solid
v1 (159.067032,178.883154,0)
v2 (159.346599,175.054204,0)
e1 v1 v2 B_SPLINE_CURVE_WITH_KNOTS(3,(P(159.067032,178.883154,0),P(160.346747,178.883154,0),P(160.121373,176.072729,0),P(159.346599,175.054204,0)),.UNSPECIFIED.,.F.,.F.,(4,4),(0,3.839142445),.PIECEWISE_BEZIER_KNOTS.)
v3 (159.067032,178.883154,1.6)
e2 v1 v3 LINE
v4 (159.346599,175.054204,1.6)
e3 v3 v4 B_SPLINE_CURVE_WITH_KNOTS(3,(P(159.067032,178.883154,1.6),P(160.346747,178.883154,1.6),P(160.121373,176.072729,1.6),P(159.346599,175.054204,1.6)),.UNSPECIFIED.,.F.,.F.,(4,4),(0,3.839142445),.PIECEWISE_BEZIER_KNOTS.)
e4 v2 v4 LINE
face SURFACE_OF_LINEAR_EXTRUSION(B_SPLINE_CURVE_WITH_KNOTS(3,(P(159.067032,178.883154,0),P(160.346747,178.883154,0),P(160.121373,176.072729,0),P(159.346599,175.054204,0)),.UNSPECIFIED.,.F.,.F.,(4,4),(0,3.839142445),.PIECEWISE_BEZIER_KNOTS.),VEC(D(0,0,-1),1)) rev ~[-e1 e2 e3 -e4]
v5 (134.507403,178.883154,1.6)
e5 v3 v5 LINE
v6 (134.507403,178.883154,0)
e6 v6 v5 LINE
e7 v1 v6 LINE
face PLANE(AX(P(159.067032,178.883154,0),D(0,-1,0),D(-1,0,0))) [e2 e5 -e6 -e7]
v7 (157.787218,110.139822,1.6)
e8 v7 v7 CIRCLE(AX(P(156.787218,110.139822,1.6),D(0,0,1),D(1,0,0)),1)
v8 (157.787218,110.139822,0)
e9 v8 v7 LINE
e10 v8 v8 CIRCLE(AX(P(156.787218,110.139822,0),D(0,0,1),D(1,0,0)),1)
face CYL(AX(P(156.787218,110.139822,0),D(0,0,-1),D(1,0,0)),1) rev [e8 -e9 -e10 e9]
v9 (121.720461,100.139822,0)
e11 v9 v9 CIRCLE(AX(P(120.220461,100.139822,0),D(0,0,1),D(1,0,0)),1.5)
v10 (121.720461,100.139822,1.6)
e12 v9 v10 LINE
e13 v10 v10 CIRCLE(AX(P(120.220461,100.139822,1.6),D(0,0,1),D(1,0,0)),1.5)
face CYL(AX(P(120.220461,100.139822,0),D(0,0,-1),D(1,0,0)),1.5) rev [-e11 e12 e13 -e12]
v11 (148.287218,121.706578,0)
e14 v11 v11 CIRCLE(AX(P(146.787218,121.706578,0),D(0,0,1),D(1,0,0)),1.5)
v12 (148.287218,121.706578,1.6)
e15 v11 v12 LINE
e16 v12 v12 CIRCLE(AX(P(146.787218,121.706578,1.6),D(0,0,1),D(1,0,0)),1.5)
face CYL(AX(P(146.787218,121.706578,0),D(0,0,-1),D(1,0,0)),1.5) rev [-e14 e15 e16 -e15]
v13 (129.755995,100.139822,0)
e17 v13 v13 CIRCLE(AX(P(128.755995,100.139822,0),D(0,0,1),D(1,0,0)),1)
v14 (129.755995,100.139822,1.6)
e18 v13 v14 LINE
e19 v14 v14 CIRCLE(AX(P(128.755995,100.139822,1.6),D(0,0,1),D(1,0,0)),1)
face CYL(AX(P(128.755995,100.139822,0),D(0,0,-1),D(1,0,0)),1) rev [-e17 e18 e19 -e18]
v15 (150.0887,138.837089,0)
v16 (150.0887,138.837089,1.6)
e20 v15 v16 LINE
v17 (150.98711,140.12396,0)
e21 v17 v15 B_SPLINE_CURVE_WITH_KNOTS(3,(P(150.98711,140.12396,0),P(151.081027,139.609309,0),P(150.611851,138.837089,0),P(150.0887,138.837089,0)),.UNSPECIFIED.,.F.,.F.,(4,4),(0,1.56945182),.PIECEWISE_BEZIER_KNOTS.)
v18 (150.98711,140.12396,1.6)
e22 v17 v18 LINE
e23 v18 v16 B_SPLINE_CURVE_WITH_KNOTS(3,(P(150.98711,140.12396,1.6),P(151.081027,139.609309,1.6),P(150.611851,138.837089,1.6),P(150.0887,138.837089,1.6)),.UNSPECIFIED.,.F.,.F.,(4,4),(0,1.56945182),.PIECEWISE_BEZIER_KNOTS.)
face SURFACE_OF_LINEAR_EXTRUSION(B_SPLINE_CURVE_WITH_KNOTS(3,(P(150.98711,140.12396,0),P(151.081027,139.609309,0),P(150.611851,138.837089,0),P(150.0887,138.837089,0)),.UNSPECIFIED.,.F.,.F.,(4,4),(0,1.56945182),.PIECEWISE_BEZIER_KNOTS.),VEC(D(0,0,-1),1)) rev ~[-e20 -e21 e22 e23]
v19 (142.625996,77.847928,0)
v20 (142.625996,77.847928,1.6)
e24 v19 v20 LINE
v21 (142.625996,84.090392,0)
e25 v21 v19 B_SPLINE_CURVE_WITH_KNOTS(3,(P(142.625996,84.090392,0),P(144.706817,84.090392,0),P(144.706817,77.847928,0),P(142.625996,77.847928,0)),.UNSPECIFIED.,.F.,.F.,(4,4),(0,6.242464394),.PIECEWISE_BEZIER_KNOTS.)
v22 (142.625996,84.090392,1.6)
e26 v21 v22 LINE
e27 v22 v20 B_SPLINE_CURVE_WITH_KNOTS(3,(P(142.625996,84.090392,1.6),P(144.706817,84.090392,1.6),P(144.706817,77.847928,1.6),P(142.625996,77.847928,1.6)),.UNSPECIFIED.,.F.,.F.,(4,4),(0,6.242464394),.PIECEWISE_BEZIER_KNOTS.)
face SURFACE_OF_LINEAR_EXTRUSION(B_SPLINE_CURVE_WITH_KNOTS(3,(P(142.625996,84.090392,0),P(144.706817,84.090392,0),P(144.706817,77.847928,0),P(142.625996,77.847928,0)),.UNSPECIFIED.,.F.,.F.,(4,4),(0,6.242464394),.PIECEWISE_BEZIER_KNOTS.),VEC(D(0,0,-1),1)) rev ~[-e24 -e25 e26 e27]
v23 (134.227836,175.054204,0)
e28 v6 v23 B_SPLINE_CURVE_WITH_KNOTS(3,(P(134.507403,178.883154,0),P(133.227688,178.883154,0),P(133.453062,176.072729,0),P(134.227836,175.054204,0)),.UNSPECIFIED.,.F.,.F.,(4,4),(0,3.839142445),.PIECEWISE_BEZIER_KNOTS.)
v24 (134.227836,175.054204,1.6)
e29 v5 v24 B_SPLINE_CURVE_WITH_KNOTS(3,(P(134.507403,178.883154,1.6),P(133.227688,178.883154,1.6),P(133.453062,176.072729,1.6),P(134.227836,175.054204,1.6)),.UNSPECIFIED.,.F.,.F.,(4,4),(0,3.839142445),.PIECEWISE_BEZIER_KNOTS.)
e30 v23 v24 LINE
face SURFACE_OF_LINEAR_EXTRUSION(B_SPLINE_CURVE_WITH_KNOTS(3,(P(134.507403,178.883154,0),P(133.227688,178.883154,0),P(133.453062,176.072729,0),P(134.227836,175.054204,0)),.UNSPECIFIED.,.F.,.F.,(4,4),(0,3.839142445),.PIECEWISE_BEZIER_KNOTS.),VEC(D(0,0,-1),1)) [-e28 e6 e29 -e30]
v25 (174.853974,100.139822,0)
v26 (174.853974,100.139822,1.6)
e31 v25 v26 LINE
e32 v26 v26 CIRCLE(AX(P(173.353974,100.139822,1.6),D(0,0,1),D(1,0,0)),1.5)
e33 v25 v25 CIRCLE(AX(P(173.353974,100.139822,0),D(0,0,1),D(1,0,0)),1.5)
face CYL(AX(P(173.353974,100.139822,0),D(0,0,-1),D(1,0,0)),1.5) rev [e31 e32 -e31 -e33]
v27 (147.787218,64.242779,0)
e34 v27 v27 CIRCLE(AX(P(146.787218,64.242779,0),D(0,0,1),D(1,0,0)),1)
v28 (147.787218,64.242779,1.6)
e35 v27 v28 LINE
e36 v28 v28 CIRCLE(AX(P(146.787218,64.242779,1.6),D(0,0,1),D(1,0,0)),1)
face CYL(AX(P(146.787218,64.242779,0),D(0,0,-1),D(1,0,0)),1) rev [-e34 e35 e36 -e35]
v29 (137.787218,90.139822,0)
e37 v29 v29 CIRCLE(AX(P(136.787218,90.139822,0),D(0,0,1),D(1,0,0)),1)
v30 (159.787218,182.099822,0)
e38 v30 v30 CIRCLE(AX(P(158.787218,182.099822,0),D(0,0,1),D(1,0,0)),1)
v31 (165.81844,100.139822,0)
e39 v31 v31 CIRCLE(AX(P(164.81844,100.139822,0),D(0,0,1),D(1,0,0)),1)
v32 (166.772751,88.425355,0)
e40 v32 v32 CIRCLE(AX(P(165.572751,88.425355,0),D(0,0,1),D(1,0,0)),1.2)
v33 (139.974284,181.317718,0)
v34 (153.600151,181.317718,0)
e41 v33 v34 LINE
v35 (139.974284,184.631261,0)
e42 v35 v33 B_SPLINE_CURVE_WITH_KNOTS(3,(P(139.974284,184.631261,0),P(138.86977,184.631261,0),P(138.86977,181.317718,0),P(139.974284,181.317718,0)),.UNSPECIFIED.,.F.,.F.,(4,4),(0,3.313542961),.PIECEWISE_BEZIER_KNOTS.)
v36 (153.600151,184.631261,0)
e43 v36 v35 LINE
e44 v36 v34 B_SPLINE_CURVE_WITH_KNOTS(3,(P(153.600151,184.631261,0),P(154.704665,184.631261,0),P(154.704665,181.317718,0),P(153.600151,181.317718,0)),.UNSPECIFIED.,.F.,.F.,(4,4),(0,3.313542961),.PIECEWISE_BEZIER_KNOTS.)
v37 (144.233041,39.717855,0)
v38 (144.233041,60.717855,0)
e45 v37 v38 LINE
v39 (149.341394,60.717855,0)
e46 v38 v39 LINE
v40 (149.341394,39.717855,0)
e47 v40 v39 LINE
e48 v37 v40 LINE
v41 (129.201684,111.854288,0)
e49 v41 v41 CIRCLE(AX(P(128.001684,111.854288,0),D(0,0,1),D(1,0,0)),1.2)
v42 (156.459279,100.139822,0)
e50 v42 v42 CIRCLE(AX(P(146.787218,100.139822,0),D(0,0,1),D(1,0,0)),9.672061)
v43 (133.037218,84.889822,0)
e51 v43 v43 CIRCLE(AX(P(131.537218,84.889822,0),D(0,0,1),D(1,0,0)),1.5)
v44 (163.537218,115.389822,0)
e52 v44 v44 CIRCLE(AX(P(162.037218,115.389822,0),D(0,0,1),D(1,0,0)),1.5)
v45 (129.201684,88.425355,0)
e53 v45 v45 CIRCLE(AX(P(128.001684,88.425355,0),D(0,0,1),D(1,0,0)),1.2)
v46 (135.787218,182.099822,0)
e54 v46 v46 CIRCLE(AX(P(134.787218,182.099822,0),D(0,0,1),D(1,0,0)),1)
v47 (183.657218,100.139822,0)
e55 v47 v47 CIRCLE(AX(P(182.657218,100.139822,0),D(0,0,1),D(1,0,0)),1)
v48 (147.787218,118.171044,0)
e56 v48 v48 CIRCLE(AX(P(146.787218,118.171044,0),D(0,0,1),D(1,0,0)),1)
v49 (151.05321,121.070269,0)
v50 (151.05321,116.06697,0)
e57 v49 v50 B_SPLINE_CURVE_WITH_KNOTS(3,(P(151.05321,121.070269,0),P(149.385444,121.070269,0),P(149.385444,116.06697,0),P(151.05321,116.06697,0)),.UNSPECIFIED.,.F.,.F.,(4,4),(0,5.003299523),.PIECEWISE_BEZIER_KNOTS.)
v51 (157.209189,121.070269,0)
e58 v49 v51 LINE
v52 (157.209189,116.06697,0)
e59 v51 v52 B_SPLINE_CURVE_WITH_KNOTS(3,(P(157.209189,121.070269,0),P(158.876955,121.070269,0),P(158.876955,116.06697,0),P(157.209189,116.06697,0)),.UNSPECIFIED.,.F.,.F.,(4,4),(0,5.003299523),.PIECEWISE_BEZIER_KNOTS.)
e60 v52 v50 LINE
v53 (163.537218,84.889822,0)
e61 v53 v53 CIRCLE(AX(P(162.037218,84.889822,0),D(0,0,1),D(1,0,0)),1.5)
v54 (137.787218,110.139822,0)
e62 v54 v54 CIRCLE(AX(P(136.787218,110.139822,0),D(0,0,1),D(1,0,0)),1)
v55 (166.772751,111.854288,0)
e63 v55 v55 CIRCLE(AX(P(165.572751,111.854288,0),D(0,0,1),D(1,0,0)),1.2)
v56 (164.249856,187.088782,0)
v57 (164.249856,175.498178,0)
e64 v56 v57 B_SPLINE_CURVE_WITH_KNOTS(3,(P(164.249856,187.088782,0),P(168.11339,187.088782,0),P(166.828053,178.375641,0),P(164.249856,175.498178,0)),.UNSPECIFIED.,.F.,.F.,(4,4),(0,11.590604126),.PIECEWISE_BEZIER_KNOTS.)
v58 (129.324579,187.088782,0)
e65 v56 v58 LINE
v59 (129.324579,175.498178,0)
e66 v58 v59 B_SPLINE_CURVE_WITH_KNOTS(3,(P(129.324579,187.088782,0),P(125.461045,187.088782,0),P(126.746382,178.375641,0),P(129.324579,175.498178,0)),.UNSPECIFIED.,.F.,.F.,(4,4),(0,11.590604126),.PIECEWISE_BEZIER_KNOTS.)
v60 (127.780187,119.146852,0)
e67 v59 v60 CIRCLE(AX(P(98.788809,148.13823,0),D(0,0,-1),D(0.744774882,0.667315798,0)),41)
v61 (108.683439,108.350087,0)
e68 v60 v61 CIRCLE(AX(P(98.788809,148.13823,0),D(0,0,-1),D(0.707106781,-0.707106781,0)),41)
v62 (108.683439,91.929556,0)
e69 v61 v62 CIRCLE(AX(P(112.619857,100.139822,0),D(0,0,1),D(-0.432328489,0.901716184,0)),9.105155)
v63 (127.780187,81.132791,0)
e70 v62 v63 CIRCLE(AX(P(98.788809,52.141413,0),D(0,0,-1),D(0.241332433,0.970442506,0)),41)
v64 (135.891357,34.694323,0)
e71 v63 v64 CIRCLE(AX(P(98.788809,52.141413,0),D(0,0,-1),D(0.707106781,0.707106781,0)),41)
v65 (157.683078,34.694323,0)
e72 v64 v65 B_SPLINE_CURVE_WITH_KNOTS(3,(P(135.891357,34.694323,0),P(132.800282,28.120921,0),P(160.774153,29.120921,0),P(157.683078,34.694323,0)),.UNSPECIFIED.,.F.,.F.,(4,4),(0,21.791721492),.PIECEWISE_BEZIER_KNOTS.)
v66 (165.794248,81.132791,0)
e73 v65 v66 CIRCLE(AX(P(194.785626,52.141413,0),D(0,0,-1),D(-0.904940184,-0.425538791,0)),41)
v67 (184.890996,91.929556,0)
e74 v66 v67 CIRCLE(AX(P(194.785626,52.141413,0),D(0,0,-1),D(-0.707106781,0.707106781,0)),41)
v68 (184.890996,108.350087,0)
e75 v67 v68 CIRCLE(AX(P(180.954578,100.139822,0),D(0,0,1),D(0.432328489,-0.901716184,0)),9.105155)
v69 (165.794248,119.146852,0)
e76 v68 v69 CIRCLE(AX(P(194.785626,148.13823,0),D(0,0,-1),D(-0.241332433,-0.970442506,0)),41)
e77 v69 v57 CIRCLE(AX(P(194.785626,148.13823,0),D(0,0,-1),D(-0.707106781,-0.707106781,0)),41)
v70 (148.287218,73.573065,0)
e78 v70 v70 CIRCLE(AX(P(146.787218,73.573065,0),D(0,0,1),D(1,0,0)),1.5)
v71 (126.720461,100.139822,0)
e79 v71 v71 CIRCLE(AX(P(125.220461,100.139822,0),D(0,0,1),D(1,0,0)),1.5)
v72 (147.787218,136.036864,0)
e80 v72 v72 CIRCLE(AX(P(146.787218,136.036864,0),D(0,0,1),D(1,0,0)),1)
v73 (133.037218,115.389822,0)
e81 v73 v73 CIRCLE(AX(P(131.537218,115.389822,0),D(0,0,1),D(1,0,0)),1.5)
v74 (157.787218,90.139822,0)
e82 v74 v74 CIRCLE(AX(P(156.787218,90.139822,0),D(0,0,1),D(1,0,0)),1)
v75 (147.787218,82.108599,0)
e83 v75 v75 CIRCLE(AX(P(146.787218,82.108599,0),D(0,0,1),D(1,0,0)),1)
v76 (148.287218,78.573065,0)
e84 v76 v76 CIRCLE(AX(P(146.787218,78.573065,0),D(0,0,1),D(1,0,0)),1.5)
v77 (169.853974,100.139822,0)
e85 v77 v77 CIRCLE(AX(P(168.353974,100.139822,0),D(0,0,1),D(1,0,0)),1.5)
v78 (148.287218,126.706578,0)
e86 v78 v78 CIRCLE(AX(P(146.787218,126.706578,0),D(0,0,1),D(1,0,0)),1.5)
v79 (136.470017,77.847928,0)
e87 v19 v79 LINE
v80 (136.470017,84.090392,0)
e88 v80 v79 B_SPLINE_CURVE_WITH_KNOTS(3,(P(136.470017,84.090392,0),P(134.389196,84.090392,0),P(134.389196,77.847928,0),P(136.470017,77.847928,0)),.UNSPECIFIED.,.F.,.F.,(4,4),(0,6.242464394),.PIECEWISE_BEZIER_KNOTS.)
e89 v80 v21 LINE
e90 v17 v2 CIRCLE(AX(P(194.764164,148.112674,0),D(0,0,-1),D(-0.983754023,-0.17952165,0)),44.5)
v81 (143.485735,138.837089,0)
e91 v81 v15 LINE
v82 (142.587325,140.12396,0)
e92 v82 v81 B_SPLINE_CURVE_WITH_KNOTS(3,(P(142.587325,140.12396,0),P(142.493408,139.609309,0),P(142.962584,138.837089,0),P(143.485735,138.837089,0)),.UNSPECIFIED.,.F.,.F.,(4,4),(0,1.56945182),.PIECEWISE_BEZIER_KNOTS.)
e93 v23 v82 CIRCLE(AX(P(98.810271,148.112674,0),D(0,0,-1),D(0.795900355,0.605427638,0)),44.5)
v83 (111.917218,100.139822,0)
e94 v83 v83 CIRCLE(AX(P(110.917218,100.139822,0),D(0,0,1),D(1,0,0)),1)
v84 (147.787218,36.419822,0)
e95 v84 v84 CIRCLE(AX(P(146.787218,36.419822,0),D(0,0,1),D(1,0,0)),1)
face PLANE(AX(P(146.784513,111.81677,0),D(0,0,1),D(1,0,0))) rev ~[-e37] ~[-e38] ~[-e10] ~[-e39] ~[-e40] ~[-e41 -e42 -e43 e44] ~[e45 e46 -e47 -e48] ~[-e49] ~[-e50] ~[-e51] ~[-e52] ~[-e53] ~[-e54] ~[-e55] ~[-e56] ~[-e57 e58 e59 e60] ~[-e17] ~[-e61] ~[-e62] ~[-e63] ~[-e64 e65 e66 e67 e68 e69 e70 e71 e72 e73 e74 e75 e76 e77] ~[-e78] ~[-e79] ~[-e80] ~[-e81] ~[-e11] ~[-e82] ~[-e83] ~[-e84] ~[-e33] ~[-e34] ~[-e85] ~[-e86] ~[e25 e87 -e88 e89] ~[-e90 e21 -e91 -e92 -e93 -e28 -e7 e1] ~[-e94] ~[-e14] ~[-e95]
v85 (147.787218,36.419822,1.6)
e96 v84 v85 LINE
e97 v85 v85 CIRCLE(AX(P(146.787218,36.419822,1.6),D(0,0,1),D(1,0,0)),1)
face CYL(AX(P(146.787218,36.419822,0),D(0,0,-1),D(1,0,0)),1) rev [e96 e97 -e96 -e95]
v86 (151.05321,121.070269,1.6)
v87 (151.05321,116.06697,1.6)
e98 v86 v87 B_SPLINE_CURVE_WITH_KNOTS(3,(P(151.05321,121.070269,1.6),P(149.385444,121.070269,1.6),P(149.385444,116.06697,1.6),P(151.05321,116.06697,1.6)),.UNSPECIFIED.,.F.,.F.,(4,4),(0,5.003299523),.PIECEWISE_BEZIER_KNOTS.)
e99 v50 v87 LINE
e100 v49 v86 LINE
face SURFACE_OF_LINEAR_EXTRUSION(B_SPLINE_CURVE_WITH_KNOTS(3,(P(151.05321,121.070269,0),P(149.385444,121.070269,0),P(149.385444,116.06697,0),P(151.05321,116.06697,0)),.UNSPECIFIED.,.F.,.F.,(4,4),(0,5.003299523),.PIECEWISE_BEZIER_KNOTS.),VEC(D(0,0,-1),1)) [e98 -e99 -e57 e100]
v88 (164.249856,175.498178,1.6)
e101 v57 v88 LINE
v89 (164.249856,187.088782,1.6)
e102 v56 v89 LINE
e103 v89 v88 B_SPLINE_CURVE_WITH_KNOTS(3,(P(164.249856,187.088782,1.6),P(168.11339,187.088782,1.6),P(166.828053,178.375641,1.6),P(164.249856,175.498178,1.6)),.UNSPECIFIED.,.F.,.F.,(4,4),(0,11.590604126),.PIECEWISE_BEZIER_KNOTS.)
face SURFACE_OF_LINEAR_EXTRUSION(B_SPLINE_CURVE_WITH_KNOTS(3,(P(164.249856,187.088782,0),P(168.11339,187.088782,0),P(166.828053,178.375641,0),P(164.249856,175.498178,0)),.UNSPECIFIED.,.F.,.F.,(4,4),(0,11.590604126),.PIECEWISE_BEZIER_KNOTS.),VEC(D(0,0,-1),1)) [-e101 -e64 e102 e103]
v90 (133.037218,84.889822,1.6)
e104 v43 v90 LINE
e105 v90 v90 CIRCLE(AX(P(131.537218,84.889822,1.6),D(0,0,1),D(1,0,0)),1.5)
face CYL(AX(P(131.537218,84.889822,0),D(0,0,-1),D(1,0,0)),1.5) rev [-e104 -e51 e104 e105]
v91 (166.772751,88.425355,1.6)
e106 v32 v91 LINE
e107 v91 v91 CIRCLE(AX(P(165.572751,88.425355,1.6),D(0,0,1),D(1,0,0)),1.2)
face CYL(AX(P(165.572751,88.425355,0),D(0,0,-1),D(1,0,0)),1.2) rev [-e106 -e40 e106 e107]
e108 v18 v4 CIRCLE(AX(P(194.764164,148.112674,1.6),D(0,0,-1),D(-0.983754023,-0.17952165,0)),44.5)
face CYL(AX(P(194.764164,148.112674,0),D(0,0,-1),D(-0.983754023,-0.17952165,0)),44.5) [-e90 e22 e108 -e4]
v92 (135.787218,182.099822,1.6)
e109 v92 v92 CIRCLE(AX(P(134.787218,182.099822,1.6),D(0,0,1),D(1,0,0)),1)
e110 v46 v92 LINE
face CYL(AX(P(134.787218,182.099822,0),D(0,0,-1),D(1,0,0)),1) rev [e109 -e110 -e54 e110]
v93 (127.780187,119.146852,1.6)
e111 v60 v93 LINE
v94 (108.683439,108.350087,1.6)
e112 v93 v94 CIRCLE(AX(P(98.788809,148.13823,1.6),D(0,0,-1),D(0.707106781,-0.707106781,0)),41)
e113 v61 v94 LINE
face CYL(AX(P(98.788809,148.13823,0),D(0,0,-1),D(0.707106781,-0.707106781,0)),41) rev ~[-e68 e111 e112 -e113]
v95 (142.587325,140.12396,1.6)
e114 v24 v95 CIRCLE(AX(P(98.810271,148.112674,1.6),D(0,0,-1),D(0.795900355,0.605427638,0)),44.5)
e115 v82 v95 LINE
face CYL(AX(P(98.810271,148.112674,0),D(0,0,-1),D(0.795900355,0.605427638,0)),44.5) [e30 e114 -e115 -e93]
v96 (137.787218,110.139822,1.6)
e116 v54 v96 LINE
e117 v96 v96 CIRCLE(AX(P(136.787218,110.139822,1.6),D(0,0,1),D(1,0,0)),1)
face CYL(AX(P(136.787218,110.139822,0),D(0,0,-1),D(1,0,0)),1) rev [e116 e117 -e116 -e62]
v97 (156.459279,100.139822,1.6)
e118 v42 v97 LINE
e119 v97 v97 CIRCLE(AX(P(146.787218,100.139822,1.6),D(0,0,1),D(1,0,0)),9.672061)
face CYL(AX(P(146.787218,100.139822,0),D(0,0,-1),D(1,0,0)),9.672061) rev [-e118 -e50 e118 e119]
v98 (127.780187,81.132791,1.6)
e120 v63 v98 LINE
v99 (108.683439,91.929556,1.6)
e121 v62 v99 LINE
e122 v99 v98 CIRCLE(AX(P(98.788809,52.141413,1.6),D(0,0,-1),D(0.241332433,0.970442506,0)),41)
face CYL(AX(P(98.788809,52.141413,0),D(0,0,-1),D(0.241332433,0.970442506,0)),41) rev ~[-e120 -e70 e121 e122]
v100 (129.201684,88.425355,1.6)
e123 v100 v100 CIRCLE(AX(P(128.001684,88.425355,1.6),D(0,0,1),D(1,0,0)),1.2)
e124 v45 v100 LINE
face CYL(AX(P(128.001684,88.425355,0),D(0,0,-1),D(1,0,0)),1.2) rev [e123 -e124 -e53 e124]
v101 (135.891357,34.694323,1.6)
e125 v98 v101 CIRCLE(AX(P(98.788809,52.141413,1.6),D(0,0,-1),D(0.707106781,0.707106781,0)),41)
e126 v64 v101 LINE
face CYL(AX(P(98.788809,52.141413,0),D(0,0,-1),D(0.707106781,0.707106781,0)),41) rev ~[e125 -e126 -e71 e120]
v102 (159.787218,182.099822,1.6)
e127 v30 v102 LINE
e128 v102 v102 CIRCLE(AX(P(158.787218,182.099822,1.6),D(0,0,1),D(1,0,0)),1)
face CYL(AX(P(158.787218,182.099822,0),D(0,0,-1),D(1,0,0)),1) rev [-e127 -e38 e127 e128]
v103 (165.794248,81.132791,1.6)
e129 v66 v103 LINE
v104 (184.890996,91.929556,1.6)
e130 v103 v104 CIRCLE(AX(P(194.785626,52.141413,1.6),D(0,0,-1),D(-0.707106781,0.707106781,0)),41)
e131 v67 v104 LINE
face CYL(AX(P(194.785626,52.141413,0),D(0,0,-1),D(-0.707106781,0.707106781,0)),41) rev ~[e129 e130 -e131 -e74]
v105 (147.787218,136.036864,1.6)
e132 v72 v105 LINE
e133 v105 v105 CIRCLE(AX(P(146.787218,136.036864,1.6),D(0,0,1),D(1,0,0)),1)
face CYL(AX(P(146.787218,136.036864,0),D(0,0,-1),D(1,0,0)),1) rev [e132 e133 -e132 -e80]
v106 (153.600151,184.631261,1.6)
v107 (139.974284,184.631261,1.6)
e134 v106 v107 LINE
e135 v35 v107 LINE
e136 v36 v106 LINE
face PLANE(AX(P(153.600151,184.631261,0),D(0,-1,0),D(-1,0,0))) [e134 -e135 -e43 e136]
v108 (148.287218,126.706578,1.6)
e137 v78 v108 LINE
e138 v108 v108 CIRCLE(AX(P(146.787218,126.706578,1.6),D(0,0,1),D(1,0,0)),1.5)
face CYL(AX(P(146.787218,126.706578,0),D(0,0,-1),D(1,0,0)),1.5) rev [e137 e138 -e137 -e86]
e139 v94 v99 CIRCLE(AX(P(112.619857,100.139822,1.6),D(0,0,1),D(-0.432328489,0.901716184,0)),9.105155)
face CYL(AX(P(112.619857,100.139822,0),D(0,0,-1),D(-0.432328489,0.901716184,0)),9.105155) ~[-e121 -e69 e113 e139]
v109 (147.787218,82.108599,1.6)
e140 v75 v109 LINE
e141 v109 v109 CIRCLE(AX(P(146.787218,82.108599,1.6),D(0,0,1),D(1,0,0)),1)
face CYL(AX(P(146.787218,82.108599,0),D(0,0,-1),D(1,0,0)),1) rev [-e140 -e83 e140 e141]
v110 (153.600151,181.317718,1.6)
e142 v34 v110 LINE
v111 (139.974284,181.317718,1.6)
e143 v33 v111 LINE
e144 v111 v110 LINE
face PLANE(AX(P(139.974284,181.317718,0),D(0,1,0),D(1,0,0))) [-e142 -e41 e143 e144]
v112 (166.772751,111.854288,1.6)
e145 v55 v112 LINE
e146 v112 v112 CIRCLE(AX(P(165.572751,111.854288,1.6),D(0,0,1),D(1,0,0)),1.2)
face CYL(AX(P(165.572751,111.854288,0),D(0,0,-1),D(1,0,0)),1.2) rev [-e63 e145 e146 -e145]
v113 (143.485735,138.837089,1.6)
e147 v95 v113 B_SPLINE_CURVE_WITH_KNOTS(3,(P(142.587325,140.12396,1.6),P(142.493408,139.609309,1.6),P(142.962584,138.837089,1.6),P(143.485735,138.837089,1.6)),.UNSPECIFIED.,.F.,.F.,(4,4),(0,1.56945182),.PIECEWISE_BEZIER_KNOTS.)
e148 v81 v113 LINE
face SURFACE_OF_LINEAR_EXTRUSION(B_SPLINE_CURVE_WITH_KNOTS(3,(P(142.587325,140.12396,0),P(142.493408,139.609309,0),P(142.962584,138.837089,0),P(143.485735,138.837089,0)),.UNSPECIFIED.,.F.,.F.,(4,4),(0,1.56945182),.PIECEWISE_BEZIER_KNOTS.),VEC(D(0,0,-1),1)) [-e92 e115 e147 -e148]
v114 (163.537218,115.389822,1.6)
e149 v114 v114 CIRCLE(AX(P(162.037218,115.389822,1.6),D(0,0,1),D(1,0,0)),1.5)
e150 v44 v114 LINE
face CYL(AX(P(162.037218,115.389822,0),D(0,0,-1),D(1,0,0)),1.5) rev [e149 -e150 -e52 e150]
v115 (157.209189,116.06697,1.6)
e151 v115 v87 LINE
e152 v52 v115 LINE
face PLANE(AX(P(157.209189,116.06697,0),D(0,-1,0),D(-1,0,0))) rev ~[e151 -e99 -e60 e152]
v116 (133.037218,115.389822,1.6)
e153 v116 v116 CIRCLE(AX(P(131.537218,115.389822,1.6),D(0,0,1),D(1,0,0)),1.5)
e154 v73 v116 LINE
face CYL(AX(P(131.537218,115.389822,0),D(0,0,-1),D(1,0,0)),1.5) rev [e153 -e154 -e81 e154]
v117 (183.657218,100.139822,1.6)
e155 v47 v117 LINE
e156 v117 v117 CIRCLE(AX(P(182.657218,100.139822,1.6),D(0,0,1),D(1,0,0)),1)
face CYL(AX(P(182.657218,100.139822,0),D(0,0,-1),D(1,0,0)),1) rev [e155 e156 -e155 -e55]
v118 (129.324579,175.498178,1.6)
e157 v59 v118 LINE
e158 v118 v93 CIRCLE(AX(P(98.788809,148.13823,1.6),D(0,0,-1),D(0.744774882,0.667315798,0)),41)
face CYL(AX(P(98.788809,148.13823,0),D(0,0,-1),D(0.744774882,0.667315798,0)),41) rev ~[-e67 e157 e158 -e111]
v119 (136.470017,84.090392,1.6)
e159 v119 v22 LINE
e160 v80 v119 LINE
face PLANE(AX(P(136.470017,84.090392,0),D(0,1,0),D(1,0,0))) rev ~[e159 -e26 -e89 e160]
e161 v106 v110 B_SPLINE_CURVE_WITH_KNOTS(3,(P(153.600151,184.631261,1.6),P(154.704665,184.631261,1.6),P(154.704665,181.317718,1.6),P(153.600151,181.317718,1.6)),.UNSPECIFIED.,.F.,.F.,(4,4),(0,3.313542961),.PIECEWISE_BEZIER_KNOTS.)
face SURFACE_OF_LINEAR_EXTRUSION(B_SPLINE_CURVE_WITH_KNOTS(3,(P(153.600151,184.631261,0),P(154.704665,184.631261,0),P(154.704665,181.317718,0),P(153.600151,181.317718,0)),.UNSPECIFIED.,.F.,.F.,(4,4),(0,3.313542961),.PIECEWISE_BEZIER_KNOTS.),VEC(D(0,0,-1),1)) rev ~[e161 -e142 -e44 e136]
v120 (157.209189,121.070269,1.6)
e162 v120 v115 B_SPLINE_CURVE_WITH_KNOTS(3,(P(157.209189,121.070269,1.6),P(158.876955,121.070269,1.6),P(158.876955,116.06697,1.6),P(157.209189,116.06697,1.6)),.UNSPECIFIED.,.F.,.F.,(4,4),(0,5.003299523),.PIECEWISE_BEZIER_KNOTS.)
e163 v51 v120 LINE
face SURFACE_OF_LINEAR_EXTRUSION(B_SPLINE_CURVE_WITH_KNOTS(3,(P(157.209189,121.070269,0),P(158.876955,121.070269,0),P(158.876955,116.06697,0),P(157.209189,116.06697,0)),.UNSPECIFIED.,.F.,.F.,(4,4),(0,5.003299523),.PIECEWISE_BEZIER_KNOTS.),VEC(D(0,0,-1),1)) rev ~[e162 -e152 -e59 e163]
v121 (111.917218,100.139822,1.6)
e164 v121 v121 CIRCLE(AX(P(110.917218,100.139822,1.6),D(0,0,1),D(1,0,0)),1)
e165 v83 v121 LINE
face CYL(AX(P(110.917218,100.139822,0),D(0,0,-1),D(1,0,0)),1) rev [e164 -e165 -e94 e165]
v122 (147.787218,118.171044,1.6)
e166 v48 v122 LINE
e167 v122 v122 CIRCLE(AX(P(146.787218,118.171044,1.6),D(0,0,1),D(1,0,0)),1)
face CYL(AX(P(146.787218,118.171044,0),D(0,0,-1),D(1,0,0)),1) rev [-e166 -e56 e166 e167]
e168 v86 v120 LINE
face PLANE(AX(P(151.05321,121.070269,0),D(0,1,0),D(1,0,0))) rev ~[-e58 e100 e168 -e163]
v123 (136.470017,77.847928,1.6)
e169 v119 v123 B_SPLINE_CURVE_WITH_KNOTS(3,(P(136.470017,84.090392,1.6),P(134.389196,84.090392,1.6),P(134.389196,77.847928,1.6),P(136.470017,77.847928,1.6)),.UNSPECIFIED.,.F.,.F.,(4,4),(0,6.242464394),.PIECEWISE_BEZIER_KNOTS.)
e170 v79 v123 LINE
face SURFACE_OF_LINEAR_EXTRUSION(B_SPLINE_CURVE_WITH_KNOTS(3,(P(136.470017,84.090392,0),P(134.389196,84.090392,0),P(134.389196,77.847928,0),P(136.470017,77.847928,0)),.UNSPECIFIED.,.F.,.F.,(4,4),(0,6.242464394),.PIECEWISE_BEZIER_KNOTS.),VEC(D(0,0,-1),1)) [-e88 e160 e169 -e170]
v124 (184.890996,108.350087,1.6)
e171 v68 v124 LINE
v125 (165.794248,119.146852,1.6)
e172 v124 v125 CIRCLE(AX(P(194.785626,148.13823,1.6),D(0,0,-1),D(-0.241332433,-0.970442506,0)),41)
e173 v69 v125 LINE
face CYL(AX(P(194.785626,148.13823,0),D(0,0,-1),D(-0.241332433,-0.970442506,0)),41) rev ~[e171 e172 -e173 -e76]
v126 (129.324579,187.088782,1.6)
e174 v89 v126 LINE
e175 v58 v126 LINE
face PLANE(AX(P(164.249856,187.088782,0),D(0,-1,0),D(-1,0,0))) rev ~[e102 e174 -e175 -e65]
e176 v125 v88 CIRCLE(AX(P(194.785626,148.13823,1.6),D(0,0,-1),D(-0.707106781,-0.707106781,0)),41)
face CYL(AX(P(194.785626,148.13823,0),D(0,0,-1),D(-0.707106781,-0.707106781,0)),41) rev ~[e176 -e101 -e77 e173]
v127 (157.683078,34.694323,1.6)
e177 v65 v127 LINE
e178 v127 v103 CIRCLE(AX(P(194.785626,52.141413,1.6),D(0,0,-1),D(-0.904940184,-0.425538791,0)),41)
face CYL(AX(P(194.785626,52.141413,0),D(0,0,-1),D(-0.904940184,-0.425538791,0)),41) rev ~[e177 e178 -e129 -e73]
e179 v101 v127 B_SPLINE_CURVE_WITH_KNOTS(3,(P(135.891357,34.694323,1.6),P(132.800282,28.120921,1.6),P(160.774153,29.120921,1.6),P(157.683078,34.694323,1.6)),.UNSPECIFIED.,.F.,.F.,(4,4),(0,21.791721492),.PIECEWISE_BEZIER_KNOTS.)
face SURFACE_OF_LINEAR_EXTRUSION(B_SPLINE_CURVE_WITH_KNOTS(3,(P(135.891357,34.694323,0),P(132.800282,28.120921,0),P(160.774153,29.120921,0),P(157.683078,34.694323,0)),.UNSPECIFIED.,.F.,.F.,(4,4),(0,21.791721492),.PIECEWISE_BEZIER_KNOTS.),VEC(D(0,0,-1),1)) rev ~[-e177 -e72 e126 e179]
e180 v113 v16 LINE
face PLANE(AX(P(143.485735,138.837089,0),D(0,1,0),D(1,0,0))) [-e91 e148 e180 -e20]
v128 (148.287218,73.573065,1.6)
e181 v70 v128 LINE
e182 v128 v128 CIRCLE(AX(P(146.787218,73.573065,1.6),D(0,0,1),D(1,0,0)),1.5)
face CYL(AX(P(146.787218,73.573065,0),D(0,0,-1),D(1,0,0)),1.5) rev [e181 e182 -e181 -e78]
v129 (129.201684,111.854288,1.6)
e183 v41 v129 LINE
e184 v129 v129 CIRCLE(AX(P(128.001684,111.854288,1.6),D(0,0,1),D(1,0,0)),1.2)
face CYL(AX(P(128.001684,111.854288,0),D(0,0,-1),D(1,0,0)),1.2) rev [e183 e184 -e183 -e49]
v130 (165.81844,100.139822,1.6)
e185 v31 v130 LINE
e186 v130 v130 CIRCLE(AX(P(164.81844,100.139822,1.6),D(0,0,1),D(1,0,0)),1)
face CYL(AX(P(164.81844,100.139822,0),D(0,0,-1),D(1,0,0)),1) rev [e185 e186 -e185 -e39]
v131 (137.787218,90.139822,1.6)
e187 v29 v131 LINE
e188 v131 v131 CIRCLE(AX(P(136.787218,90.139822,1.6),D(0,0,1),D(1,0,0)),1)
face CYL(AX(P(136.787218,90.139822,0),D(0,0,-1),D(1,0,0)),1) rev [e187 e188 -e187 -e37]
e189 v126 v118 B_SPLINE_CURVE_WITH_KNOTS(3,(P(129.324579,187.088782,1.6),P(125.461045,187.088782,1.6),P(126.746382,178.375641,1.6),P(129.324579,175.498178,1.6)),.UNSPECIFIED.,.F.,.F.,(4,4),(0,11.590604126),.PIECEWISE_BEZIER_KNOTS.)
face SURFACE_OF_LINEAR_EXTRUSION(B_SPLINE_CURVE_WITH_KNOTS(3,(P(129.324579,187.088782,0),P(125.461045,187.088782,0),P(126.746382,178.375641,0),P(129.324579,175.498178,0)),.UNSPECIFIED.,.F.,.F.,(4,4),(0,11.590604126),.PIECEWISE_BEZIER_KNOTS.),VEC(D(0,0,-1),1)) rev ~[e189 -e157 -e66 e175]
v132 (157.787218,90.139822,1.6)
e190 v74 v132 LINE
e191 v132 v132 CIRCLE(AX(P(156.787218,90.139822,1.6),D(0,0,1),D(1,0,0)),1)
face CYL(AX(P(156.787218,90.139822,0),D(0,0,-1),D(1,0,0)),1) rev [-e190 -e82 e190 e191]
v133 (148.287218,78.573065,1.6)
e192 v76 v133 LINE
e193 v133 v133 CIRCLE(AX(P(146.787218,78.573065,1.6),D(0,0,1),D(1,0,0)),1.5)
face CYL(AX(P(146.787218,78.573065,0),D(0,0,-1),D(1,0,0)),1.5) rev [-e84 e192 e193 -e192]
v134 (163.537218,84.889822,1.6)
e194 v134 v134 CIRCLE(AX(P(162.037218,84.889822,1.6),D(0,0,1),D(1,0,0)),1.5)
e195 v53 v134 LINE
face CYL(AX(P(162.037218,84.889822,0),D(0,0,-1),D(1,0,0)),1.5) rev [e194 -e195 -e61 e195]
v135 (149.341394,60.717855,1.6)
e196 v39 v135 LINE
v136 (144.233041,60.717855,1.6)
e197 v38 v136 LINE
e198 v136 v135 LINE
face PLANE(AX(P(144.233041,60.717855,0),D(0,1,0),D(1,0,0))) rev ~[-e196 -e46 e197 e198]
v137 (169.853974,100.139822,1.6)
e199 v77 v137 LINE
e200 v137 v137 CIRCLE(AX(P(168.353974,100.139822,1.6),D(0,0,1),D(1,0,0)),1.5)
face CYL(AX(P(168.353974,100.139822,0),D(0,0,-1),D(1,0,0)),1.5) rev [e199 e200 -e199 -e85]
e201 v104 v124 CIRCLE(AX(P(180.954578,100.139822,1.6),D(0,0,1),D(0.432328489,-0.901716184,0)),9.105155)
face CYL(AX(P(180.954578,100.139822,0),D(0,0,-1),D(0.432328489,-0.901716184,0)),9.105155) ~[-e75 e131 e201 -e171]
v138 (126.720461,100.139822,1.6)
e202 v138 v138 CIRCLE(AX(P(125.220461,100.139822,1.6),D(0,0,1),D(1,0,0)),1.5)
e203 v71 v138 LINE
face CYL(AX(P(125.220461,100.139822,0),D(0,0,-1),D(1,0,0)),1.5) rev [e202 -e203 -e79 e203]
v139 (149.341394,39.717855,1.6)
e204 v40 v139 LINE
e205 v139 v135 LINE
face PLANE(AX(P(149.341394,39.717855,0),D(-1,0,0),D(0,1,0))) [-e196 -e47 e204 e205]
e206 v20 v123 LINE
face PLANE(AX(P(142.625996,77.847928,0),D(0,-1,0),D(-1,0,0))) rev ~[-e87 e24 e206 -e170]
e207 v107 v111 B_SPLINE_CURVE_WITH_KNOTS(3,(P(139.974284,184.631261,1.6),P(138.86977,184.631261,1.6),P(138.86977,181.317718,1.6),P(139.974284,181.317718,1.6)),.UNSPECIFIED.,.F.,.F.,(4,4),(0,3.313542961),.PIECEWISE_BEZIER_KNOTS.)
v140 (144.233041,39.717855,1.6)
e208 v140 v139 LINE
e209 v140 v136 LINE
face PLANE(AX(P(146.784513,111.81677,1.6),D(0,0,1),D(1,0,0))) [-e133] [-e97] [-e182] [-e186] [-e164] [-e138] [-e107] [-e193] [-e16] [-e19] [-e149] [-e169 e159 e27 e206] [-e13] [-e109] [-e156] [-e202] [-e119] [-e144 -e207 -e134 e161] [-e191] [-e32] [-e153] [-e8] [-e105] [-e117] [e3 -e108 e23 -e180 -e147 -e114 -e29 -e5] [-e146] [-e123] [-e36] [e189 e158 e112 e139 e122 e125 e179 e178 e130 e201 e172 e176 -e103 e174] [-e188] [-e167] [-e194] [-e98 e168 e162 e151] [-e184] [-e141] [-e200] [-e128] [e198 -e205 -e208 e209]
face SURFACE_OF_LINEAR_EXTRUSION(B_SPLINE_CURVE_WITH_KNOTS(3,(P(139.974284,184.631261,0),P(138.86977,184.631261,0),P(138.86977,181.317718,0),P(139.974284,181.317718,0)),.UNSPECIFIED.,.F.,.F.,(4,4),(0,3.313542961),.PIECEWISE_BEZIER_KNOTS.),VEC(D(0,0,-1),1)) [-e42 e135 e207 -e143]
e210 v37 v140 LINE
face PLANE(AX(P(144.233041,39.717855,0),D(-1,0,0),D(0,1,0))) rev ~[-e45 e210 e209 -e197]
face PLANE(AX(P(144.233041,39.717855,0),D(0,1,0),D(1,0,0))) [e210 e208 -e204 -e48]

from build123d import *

# Parameters (mm, degrees)
MODEL_R         = 1
MODEL_R_2       = 1.5
MODEL_R_3       = 1.2
MODEL_R_4       = 9.672061212
MODEL_W         = 5.108352415
MODEL_H         = 21
EXTRUDE_1_DEPTH = 1.6


with BuildPart() as part:
    # Model → 凸台-拉伸1 (new body)
    with BuildSketch(Plane.XY):
        with BuildLine():
            Line((164.249855651, 187.088781669), (146.787217515, 187.088781669))
            Line((146.787217515, 187.088781669), (129.32457938, 187.088781669))
            add(Edge.make_bspline(
                [(129.32457938, 187.088781669), (125.461044671, 187.088781669), (126.746381631, 178.375641151), (129.32457938, 175.498177543)],
                knots=[0, 0, 0, 0, 11.590604126, 11.590604126, 11.590604126, 11.590604126], degree=3))
            ThreePointArc((129.32457938, 175.498177543), (139.773420004, 147.014985412), (127.780187237, 119.146851779))
            ThreePointArc((127.780187237, 119.146851779), (118.967335725, 112.447515783), (108.683438965, 108.350087077))
            ThreePointArc((108.683438965, 108.350087077), (103.514701902, 100.139821501), (108.683438965, 91.929555925))
            ThreePointArc((108.683438965, 91.929555925), (118.967335725, 87.832127219), (127.780187237, 81.132791223))
            ThreePointArc((127.780187237, 81.132791223), (139.177354468, 59.195873616), (135.89135677, 34.694322764))
            add(Edge.make_bspline(
                [(135.89135677, 34.694322764), (132.800282497, 28.120921276), (160.774152533, 29.120921276), (157.683078261, 34.694322764)],
                knots=[0, 0, 0, 0, 21.791721492, 21.791721492, 21.791721492, 21.791721492], degree=3))
            ThreePointArc((157.683078261, 34.694322764), (154.397080563, 59.195873616), (165.794247794, 81.132791223))
            ThreePointArc((165.794247794, 81.132791223), (174.607099306, 87.832127219), (184.890996066, 91.929555925))
            ThreePointArc((184.890996066, 91.929555925), (190.059733129, 100.139821501), (184.890996066, 108.350087077))
            ThreePointArc((184.890996066, 108.350087077), (174.607099306, 112.447515783), (165.794247794, 119.146851779))
            ThreePointArc((165.794247794, 119.146851779), (153.801015027, 147.014985412), (164.249855651, 175.498177543))
            add(Edge.make_bspline(
                [(164.249855651, 187.088781669), (168.11339036, 187.088781669), (166.8280534, 178.375641151), (164.249855651, 175.498177543)],
                knots=[0, 0, 0, 0, 11.590604126, 11.590604126, 11.590604126, 11.590604126], degree=3))
        make_face()
        with Locations((156.787217515, 110.139821501)):
            Circle(MODEL_R, mode=Mode.SUBTRACT)
        with Locations((136.787217515, 110.139821501)):
            Circle(MODEL_R, mode=Mode.SUBTRACT)
        with Locations((136.787217515, 90.139821501)):
            Circle(MODEL_R, mode=Mode.SUBTRACT)
        with Locations((156.787217515, 90.139821501)):
            Circle(MODEL_R, mode=Mode.SUBTRACT)
        with Locations((168.353974342, 100.139821501)):
            Circle(MODEL_R_2, mode=Mode.SUBTRACT)
        with Locations((146.787217515, 121.706578327)):
            Circle(MODEL_R_2, mode=Mode.SUBTRACT)
        with Locations((125.220460689, 100.139821501)):
            Circle(MODEL_R_2, mode=Mode.SUBTRACT)
        with Locations((146.787217515, 78.573064675)):
            Circle(MODEL_R_2, mode=Mode.SUBTRACT)
        with Locations((146.787217515, 126.706578327)):
            Circle(MODEL_R_2, mode=Mode.SUBTRACT)
        with Locations((120.220460689, 100.139821501)):
            Circle(MODEL_R_2, mode=Mode.SUBTRACT)
        with Locations((146.787217515, 73.573064675)):
            Circle(MODEL_R_2, mode=Mode.SUBTRACT)
        with Locations((173.353974342, 100.139821501)):
            Circle(MODEL_R_2, mode=Mode.SUBTRACT)
        with Locations((146.787217515, 118.171044401)):
            Circle(MODEL_R, mode=Mode.SUBTRACT)
        with Locations((128.755994615, 100.139821501)):
            Circle(MODEL_R, mode=Mode.SUBTRACT)
        with Locations((146.787217515, 82.108598601)):
            Circle(MODEL_R, mode=Mode.SUBTRACT)
        with Locations((164.818440415, 100.139821501)):
            Circle(MODEL_R, mode=Mode.SUBTRACT)
        with Locations((162.037217515, 115.389821501)):
            Circle(MODEL_R_2, mode=Mode.SUBTRACT)
        with Locations((131.537217515, 115.389821501)):
            Circle(MODEL_R_2, mode=Mode.SUBTRACT)
        with Locations((131.537217515, 84.889821501)):
            Circle(MODEL_R_2, mode=Mode.SUBTRACT)
        with Locations((162.037217515, 84.889821501)):
            Circle(MODEL_R_2, mode=Mode.SUBTRACT)
        with Locations((182.657217515, 100.139821501)):
            Circle(MODEL_R, mode=Mode.SUBTRACT)
        with Locations((146.787217515, 136.036864466)):
            Circle(MODEL_R, mode=Mode.SUBTRACT)
        with Locations((110.917217515, 100.139821501)):
            Circle(MODEL_R, mode=Mode.SUBTRACT)
        with Locations((146.787217515, 64.242778536)):
            Circle(MODEL_R, mode=Mode.SUBTRACT)
        with Locations((146.787217515, 36.419821501)):
            Circle(MODEL_R, mode=Mode.SUBTRACT)
        with Locations((158.787217515, 182.099821501)):
            Circle(MODEL_R, mode=Mode.SUBTRACT)
        with Locations((134.787217515, 182.099821501)):
            Circle(MODEL_R, mode=Mode.SUBTRACT)
        with Locations((128.00168361, 111.854287595)):
            Circle(MODEL_R_3, mode=Mode.SUBTRACT)
        with Locations((165.572751421, 111.854287595)):
            Circle(MODEL_R_3, mode=Mode.SUBTRACT)
        with Locations((128.00168361, 88.425355407)):
            Circle(MODEL_R_3, mode=Mode.SUBTRACT)
        with Locations((165.572751421, 88.425355407)):
            Circle(MODEL_R_3, mode=Mode.SUBTRACT)
        with Locations((146.787217515, 100.139821501)):
            Circle(MODEL_R_4, mode=Mode.SUBTRACT)
        with BuildLine():
            Line((159.067032454, 178.883153661), (146.787217515, 178.883153661))
            Line((146.787217515, 178.883153661), (134.507402577, 178.883153661))
            add(Edge.make_bspline(
                [(134.507402577, 178.883153661), (133.227688428, 178.883153661), (133.453062144, 176.072728685), (134.227836458, 175.05420374)],
                knots=[0, 0, 0, 0, 3.839142445, 3.839142445, 3.839142445, 3.839142445], degree=3))
            ThreePointArc((134.227836458, 175.05420374), (142.088179874, 158.46992126), (142.587324671, 140.123960438))
            add(Edge.make_bspline(
                [(142.587324671, 140.123960438), (142.493407811, 139.609308925), (142.9625841, 138.837088874), (143.485734707, 138.837088874)],
                knots=[0, 0, 0, 0, 1.56945182, 1.56945182, 1.56945182, 1.56945182], degree=3))
            Line((143.485734707, 138.837088874), (146.787217515, 138.837088874))
            Line((146.787217515, 138.837088874), (150.088700324, 138.837088874))
            add(Edge.make_bspline(
                [(150.98711036, 140.123960438), (151.08102722, 139.609308925), (150.611850931, 138.837088874), (150.088700324, 138.837088874)],
                knots=[0, 0, 0, 0, 1.56945182, 1.56945182, 1.56945182, 1.56945182], degree=3))
            ThreePointArc((150.98711036, 140.123960438), (151.486255157, 158.46992126), (159.346598573, 175.05420374))
            add(Edge.make_bspline(
                [(159.067032454, 178.883153661), (160.346746603, 178.883153661), (160.121372887, 176.072728685), (159.346598573, 175.05420374)],
                knots=[0, 0, 0, 0, 3.839142445, 3.839142445, 3.839142445, 3.839142445], degree=3))
        make_face(mode=Mode.SUBTRACT)
        with BuildLine():
            Line((151.053210178, 121.070269245), (157.209188782, 121.070269245))
            add(Edge.make_bspline(
                [(157.209188782, 121.070269245), (158.876955289, 121.070269245), (158.876955289, 116.066969722), (157.209188782, 116.066969722)],
                knots=[0, 0, 0, 0, 5.003299523, 5.003299523, 5.003299523, 5.003299523], degree=3))
            Line((157.209188782, 116.066969722), (151.053210178, 116.066969722))
            add(Edge.make_bspline(
                [(151.053210178, 121.070269245), (149.38544367, 121.070269245), (149.38544367, 116.066969722), (151.053210178, 116.066969722)],
                knots=[0, 0, 0, 0, 5.003299523, 5.003299523, 5.003299523, 5.003299523], degree=3))
        make_face(mode=Mode.SUBTRACT)
        with BuildLine():
            Line((136.47001729, 84.090392193), (142.625995894, 84.090392193))
            add(Edge.make_bspline(
                [(142.625995894, 84.090392193), (144.706817358, 84.090392193), (144.706817358, 77.847927799), (142.625995894, 77.847927799)],
                knots=[0, 0, 0, 0, 6.242464394, 6.242464394, 6.242464394, 6.242464394], degree=3))
            Line((142.625995894, 77.847927799), (136.47001729, 77.847927799))
            add(Edge.make_bspline(
                [(136.47001729, 84.090392193), (134.389195825, 84.090392193), (134.389195825, 77.847927799), (136.47001729, 77.847927799)],
                knots=[0, 0, 0, 0, 6.242464394, 6.242464394, 6.242464394, 6.242464394], degree=3))
        make_face(mode=Mode.SUBTRACT)
        with BuildLine():
            Line((139.974283877, 181.317718414), (153.600151154, 181.317718414))
            add(Edge.make_bspline(
                [(153.600151154, 184.631261375), (154.704665474, 184.631261375), (154.704665474, 181.317718414), (153.600151154, 181.317718414)],
                knots=[0, 0, 0, 0, 3.313542961, 3.313542961, 3.313542961, 3.313542961], degree=3))
            Line((153.600151154, 184.631261375), (139.974283877, 184.631261375))
            add(Edge.make_bspline(
                [(139.974283877, 184.631261375), (138.869769557, 184.631261375), (138.869769557, 181.317718414), (139.974283877, 181.317718414)],
                knots=[0, 0, 0, 0, 3.313542961, 3.313542961, 3.313542961, 3.313542961], degree=3))
        make_face(mode=Mode.SUBTRACT)
        with Locations((146.787217516, 50.217854956)):
            Rectangle(MODEL_W, MODEL_H, mode=Mode.SUBTRACT)
    extrude(amount=EXTRUDE_1_DEPTH)


solid = part.part
